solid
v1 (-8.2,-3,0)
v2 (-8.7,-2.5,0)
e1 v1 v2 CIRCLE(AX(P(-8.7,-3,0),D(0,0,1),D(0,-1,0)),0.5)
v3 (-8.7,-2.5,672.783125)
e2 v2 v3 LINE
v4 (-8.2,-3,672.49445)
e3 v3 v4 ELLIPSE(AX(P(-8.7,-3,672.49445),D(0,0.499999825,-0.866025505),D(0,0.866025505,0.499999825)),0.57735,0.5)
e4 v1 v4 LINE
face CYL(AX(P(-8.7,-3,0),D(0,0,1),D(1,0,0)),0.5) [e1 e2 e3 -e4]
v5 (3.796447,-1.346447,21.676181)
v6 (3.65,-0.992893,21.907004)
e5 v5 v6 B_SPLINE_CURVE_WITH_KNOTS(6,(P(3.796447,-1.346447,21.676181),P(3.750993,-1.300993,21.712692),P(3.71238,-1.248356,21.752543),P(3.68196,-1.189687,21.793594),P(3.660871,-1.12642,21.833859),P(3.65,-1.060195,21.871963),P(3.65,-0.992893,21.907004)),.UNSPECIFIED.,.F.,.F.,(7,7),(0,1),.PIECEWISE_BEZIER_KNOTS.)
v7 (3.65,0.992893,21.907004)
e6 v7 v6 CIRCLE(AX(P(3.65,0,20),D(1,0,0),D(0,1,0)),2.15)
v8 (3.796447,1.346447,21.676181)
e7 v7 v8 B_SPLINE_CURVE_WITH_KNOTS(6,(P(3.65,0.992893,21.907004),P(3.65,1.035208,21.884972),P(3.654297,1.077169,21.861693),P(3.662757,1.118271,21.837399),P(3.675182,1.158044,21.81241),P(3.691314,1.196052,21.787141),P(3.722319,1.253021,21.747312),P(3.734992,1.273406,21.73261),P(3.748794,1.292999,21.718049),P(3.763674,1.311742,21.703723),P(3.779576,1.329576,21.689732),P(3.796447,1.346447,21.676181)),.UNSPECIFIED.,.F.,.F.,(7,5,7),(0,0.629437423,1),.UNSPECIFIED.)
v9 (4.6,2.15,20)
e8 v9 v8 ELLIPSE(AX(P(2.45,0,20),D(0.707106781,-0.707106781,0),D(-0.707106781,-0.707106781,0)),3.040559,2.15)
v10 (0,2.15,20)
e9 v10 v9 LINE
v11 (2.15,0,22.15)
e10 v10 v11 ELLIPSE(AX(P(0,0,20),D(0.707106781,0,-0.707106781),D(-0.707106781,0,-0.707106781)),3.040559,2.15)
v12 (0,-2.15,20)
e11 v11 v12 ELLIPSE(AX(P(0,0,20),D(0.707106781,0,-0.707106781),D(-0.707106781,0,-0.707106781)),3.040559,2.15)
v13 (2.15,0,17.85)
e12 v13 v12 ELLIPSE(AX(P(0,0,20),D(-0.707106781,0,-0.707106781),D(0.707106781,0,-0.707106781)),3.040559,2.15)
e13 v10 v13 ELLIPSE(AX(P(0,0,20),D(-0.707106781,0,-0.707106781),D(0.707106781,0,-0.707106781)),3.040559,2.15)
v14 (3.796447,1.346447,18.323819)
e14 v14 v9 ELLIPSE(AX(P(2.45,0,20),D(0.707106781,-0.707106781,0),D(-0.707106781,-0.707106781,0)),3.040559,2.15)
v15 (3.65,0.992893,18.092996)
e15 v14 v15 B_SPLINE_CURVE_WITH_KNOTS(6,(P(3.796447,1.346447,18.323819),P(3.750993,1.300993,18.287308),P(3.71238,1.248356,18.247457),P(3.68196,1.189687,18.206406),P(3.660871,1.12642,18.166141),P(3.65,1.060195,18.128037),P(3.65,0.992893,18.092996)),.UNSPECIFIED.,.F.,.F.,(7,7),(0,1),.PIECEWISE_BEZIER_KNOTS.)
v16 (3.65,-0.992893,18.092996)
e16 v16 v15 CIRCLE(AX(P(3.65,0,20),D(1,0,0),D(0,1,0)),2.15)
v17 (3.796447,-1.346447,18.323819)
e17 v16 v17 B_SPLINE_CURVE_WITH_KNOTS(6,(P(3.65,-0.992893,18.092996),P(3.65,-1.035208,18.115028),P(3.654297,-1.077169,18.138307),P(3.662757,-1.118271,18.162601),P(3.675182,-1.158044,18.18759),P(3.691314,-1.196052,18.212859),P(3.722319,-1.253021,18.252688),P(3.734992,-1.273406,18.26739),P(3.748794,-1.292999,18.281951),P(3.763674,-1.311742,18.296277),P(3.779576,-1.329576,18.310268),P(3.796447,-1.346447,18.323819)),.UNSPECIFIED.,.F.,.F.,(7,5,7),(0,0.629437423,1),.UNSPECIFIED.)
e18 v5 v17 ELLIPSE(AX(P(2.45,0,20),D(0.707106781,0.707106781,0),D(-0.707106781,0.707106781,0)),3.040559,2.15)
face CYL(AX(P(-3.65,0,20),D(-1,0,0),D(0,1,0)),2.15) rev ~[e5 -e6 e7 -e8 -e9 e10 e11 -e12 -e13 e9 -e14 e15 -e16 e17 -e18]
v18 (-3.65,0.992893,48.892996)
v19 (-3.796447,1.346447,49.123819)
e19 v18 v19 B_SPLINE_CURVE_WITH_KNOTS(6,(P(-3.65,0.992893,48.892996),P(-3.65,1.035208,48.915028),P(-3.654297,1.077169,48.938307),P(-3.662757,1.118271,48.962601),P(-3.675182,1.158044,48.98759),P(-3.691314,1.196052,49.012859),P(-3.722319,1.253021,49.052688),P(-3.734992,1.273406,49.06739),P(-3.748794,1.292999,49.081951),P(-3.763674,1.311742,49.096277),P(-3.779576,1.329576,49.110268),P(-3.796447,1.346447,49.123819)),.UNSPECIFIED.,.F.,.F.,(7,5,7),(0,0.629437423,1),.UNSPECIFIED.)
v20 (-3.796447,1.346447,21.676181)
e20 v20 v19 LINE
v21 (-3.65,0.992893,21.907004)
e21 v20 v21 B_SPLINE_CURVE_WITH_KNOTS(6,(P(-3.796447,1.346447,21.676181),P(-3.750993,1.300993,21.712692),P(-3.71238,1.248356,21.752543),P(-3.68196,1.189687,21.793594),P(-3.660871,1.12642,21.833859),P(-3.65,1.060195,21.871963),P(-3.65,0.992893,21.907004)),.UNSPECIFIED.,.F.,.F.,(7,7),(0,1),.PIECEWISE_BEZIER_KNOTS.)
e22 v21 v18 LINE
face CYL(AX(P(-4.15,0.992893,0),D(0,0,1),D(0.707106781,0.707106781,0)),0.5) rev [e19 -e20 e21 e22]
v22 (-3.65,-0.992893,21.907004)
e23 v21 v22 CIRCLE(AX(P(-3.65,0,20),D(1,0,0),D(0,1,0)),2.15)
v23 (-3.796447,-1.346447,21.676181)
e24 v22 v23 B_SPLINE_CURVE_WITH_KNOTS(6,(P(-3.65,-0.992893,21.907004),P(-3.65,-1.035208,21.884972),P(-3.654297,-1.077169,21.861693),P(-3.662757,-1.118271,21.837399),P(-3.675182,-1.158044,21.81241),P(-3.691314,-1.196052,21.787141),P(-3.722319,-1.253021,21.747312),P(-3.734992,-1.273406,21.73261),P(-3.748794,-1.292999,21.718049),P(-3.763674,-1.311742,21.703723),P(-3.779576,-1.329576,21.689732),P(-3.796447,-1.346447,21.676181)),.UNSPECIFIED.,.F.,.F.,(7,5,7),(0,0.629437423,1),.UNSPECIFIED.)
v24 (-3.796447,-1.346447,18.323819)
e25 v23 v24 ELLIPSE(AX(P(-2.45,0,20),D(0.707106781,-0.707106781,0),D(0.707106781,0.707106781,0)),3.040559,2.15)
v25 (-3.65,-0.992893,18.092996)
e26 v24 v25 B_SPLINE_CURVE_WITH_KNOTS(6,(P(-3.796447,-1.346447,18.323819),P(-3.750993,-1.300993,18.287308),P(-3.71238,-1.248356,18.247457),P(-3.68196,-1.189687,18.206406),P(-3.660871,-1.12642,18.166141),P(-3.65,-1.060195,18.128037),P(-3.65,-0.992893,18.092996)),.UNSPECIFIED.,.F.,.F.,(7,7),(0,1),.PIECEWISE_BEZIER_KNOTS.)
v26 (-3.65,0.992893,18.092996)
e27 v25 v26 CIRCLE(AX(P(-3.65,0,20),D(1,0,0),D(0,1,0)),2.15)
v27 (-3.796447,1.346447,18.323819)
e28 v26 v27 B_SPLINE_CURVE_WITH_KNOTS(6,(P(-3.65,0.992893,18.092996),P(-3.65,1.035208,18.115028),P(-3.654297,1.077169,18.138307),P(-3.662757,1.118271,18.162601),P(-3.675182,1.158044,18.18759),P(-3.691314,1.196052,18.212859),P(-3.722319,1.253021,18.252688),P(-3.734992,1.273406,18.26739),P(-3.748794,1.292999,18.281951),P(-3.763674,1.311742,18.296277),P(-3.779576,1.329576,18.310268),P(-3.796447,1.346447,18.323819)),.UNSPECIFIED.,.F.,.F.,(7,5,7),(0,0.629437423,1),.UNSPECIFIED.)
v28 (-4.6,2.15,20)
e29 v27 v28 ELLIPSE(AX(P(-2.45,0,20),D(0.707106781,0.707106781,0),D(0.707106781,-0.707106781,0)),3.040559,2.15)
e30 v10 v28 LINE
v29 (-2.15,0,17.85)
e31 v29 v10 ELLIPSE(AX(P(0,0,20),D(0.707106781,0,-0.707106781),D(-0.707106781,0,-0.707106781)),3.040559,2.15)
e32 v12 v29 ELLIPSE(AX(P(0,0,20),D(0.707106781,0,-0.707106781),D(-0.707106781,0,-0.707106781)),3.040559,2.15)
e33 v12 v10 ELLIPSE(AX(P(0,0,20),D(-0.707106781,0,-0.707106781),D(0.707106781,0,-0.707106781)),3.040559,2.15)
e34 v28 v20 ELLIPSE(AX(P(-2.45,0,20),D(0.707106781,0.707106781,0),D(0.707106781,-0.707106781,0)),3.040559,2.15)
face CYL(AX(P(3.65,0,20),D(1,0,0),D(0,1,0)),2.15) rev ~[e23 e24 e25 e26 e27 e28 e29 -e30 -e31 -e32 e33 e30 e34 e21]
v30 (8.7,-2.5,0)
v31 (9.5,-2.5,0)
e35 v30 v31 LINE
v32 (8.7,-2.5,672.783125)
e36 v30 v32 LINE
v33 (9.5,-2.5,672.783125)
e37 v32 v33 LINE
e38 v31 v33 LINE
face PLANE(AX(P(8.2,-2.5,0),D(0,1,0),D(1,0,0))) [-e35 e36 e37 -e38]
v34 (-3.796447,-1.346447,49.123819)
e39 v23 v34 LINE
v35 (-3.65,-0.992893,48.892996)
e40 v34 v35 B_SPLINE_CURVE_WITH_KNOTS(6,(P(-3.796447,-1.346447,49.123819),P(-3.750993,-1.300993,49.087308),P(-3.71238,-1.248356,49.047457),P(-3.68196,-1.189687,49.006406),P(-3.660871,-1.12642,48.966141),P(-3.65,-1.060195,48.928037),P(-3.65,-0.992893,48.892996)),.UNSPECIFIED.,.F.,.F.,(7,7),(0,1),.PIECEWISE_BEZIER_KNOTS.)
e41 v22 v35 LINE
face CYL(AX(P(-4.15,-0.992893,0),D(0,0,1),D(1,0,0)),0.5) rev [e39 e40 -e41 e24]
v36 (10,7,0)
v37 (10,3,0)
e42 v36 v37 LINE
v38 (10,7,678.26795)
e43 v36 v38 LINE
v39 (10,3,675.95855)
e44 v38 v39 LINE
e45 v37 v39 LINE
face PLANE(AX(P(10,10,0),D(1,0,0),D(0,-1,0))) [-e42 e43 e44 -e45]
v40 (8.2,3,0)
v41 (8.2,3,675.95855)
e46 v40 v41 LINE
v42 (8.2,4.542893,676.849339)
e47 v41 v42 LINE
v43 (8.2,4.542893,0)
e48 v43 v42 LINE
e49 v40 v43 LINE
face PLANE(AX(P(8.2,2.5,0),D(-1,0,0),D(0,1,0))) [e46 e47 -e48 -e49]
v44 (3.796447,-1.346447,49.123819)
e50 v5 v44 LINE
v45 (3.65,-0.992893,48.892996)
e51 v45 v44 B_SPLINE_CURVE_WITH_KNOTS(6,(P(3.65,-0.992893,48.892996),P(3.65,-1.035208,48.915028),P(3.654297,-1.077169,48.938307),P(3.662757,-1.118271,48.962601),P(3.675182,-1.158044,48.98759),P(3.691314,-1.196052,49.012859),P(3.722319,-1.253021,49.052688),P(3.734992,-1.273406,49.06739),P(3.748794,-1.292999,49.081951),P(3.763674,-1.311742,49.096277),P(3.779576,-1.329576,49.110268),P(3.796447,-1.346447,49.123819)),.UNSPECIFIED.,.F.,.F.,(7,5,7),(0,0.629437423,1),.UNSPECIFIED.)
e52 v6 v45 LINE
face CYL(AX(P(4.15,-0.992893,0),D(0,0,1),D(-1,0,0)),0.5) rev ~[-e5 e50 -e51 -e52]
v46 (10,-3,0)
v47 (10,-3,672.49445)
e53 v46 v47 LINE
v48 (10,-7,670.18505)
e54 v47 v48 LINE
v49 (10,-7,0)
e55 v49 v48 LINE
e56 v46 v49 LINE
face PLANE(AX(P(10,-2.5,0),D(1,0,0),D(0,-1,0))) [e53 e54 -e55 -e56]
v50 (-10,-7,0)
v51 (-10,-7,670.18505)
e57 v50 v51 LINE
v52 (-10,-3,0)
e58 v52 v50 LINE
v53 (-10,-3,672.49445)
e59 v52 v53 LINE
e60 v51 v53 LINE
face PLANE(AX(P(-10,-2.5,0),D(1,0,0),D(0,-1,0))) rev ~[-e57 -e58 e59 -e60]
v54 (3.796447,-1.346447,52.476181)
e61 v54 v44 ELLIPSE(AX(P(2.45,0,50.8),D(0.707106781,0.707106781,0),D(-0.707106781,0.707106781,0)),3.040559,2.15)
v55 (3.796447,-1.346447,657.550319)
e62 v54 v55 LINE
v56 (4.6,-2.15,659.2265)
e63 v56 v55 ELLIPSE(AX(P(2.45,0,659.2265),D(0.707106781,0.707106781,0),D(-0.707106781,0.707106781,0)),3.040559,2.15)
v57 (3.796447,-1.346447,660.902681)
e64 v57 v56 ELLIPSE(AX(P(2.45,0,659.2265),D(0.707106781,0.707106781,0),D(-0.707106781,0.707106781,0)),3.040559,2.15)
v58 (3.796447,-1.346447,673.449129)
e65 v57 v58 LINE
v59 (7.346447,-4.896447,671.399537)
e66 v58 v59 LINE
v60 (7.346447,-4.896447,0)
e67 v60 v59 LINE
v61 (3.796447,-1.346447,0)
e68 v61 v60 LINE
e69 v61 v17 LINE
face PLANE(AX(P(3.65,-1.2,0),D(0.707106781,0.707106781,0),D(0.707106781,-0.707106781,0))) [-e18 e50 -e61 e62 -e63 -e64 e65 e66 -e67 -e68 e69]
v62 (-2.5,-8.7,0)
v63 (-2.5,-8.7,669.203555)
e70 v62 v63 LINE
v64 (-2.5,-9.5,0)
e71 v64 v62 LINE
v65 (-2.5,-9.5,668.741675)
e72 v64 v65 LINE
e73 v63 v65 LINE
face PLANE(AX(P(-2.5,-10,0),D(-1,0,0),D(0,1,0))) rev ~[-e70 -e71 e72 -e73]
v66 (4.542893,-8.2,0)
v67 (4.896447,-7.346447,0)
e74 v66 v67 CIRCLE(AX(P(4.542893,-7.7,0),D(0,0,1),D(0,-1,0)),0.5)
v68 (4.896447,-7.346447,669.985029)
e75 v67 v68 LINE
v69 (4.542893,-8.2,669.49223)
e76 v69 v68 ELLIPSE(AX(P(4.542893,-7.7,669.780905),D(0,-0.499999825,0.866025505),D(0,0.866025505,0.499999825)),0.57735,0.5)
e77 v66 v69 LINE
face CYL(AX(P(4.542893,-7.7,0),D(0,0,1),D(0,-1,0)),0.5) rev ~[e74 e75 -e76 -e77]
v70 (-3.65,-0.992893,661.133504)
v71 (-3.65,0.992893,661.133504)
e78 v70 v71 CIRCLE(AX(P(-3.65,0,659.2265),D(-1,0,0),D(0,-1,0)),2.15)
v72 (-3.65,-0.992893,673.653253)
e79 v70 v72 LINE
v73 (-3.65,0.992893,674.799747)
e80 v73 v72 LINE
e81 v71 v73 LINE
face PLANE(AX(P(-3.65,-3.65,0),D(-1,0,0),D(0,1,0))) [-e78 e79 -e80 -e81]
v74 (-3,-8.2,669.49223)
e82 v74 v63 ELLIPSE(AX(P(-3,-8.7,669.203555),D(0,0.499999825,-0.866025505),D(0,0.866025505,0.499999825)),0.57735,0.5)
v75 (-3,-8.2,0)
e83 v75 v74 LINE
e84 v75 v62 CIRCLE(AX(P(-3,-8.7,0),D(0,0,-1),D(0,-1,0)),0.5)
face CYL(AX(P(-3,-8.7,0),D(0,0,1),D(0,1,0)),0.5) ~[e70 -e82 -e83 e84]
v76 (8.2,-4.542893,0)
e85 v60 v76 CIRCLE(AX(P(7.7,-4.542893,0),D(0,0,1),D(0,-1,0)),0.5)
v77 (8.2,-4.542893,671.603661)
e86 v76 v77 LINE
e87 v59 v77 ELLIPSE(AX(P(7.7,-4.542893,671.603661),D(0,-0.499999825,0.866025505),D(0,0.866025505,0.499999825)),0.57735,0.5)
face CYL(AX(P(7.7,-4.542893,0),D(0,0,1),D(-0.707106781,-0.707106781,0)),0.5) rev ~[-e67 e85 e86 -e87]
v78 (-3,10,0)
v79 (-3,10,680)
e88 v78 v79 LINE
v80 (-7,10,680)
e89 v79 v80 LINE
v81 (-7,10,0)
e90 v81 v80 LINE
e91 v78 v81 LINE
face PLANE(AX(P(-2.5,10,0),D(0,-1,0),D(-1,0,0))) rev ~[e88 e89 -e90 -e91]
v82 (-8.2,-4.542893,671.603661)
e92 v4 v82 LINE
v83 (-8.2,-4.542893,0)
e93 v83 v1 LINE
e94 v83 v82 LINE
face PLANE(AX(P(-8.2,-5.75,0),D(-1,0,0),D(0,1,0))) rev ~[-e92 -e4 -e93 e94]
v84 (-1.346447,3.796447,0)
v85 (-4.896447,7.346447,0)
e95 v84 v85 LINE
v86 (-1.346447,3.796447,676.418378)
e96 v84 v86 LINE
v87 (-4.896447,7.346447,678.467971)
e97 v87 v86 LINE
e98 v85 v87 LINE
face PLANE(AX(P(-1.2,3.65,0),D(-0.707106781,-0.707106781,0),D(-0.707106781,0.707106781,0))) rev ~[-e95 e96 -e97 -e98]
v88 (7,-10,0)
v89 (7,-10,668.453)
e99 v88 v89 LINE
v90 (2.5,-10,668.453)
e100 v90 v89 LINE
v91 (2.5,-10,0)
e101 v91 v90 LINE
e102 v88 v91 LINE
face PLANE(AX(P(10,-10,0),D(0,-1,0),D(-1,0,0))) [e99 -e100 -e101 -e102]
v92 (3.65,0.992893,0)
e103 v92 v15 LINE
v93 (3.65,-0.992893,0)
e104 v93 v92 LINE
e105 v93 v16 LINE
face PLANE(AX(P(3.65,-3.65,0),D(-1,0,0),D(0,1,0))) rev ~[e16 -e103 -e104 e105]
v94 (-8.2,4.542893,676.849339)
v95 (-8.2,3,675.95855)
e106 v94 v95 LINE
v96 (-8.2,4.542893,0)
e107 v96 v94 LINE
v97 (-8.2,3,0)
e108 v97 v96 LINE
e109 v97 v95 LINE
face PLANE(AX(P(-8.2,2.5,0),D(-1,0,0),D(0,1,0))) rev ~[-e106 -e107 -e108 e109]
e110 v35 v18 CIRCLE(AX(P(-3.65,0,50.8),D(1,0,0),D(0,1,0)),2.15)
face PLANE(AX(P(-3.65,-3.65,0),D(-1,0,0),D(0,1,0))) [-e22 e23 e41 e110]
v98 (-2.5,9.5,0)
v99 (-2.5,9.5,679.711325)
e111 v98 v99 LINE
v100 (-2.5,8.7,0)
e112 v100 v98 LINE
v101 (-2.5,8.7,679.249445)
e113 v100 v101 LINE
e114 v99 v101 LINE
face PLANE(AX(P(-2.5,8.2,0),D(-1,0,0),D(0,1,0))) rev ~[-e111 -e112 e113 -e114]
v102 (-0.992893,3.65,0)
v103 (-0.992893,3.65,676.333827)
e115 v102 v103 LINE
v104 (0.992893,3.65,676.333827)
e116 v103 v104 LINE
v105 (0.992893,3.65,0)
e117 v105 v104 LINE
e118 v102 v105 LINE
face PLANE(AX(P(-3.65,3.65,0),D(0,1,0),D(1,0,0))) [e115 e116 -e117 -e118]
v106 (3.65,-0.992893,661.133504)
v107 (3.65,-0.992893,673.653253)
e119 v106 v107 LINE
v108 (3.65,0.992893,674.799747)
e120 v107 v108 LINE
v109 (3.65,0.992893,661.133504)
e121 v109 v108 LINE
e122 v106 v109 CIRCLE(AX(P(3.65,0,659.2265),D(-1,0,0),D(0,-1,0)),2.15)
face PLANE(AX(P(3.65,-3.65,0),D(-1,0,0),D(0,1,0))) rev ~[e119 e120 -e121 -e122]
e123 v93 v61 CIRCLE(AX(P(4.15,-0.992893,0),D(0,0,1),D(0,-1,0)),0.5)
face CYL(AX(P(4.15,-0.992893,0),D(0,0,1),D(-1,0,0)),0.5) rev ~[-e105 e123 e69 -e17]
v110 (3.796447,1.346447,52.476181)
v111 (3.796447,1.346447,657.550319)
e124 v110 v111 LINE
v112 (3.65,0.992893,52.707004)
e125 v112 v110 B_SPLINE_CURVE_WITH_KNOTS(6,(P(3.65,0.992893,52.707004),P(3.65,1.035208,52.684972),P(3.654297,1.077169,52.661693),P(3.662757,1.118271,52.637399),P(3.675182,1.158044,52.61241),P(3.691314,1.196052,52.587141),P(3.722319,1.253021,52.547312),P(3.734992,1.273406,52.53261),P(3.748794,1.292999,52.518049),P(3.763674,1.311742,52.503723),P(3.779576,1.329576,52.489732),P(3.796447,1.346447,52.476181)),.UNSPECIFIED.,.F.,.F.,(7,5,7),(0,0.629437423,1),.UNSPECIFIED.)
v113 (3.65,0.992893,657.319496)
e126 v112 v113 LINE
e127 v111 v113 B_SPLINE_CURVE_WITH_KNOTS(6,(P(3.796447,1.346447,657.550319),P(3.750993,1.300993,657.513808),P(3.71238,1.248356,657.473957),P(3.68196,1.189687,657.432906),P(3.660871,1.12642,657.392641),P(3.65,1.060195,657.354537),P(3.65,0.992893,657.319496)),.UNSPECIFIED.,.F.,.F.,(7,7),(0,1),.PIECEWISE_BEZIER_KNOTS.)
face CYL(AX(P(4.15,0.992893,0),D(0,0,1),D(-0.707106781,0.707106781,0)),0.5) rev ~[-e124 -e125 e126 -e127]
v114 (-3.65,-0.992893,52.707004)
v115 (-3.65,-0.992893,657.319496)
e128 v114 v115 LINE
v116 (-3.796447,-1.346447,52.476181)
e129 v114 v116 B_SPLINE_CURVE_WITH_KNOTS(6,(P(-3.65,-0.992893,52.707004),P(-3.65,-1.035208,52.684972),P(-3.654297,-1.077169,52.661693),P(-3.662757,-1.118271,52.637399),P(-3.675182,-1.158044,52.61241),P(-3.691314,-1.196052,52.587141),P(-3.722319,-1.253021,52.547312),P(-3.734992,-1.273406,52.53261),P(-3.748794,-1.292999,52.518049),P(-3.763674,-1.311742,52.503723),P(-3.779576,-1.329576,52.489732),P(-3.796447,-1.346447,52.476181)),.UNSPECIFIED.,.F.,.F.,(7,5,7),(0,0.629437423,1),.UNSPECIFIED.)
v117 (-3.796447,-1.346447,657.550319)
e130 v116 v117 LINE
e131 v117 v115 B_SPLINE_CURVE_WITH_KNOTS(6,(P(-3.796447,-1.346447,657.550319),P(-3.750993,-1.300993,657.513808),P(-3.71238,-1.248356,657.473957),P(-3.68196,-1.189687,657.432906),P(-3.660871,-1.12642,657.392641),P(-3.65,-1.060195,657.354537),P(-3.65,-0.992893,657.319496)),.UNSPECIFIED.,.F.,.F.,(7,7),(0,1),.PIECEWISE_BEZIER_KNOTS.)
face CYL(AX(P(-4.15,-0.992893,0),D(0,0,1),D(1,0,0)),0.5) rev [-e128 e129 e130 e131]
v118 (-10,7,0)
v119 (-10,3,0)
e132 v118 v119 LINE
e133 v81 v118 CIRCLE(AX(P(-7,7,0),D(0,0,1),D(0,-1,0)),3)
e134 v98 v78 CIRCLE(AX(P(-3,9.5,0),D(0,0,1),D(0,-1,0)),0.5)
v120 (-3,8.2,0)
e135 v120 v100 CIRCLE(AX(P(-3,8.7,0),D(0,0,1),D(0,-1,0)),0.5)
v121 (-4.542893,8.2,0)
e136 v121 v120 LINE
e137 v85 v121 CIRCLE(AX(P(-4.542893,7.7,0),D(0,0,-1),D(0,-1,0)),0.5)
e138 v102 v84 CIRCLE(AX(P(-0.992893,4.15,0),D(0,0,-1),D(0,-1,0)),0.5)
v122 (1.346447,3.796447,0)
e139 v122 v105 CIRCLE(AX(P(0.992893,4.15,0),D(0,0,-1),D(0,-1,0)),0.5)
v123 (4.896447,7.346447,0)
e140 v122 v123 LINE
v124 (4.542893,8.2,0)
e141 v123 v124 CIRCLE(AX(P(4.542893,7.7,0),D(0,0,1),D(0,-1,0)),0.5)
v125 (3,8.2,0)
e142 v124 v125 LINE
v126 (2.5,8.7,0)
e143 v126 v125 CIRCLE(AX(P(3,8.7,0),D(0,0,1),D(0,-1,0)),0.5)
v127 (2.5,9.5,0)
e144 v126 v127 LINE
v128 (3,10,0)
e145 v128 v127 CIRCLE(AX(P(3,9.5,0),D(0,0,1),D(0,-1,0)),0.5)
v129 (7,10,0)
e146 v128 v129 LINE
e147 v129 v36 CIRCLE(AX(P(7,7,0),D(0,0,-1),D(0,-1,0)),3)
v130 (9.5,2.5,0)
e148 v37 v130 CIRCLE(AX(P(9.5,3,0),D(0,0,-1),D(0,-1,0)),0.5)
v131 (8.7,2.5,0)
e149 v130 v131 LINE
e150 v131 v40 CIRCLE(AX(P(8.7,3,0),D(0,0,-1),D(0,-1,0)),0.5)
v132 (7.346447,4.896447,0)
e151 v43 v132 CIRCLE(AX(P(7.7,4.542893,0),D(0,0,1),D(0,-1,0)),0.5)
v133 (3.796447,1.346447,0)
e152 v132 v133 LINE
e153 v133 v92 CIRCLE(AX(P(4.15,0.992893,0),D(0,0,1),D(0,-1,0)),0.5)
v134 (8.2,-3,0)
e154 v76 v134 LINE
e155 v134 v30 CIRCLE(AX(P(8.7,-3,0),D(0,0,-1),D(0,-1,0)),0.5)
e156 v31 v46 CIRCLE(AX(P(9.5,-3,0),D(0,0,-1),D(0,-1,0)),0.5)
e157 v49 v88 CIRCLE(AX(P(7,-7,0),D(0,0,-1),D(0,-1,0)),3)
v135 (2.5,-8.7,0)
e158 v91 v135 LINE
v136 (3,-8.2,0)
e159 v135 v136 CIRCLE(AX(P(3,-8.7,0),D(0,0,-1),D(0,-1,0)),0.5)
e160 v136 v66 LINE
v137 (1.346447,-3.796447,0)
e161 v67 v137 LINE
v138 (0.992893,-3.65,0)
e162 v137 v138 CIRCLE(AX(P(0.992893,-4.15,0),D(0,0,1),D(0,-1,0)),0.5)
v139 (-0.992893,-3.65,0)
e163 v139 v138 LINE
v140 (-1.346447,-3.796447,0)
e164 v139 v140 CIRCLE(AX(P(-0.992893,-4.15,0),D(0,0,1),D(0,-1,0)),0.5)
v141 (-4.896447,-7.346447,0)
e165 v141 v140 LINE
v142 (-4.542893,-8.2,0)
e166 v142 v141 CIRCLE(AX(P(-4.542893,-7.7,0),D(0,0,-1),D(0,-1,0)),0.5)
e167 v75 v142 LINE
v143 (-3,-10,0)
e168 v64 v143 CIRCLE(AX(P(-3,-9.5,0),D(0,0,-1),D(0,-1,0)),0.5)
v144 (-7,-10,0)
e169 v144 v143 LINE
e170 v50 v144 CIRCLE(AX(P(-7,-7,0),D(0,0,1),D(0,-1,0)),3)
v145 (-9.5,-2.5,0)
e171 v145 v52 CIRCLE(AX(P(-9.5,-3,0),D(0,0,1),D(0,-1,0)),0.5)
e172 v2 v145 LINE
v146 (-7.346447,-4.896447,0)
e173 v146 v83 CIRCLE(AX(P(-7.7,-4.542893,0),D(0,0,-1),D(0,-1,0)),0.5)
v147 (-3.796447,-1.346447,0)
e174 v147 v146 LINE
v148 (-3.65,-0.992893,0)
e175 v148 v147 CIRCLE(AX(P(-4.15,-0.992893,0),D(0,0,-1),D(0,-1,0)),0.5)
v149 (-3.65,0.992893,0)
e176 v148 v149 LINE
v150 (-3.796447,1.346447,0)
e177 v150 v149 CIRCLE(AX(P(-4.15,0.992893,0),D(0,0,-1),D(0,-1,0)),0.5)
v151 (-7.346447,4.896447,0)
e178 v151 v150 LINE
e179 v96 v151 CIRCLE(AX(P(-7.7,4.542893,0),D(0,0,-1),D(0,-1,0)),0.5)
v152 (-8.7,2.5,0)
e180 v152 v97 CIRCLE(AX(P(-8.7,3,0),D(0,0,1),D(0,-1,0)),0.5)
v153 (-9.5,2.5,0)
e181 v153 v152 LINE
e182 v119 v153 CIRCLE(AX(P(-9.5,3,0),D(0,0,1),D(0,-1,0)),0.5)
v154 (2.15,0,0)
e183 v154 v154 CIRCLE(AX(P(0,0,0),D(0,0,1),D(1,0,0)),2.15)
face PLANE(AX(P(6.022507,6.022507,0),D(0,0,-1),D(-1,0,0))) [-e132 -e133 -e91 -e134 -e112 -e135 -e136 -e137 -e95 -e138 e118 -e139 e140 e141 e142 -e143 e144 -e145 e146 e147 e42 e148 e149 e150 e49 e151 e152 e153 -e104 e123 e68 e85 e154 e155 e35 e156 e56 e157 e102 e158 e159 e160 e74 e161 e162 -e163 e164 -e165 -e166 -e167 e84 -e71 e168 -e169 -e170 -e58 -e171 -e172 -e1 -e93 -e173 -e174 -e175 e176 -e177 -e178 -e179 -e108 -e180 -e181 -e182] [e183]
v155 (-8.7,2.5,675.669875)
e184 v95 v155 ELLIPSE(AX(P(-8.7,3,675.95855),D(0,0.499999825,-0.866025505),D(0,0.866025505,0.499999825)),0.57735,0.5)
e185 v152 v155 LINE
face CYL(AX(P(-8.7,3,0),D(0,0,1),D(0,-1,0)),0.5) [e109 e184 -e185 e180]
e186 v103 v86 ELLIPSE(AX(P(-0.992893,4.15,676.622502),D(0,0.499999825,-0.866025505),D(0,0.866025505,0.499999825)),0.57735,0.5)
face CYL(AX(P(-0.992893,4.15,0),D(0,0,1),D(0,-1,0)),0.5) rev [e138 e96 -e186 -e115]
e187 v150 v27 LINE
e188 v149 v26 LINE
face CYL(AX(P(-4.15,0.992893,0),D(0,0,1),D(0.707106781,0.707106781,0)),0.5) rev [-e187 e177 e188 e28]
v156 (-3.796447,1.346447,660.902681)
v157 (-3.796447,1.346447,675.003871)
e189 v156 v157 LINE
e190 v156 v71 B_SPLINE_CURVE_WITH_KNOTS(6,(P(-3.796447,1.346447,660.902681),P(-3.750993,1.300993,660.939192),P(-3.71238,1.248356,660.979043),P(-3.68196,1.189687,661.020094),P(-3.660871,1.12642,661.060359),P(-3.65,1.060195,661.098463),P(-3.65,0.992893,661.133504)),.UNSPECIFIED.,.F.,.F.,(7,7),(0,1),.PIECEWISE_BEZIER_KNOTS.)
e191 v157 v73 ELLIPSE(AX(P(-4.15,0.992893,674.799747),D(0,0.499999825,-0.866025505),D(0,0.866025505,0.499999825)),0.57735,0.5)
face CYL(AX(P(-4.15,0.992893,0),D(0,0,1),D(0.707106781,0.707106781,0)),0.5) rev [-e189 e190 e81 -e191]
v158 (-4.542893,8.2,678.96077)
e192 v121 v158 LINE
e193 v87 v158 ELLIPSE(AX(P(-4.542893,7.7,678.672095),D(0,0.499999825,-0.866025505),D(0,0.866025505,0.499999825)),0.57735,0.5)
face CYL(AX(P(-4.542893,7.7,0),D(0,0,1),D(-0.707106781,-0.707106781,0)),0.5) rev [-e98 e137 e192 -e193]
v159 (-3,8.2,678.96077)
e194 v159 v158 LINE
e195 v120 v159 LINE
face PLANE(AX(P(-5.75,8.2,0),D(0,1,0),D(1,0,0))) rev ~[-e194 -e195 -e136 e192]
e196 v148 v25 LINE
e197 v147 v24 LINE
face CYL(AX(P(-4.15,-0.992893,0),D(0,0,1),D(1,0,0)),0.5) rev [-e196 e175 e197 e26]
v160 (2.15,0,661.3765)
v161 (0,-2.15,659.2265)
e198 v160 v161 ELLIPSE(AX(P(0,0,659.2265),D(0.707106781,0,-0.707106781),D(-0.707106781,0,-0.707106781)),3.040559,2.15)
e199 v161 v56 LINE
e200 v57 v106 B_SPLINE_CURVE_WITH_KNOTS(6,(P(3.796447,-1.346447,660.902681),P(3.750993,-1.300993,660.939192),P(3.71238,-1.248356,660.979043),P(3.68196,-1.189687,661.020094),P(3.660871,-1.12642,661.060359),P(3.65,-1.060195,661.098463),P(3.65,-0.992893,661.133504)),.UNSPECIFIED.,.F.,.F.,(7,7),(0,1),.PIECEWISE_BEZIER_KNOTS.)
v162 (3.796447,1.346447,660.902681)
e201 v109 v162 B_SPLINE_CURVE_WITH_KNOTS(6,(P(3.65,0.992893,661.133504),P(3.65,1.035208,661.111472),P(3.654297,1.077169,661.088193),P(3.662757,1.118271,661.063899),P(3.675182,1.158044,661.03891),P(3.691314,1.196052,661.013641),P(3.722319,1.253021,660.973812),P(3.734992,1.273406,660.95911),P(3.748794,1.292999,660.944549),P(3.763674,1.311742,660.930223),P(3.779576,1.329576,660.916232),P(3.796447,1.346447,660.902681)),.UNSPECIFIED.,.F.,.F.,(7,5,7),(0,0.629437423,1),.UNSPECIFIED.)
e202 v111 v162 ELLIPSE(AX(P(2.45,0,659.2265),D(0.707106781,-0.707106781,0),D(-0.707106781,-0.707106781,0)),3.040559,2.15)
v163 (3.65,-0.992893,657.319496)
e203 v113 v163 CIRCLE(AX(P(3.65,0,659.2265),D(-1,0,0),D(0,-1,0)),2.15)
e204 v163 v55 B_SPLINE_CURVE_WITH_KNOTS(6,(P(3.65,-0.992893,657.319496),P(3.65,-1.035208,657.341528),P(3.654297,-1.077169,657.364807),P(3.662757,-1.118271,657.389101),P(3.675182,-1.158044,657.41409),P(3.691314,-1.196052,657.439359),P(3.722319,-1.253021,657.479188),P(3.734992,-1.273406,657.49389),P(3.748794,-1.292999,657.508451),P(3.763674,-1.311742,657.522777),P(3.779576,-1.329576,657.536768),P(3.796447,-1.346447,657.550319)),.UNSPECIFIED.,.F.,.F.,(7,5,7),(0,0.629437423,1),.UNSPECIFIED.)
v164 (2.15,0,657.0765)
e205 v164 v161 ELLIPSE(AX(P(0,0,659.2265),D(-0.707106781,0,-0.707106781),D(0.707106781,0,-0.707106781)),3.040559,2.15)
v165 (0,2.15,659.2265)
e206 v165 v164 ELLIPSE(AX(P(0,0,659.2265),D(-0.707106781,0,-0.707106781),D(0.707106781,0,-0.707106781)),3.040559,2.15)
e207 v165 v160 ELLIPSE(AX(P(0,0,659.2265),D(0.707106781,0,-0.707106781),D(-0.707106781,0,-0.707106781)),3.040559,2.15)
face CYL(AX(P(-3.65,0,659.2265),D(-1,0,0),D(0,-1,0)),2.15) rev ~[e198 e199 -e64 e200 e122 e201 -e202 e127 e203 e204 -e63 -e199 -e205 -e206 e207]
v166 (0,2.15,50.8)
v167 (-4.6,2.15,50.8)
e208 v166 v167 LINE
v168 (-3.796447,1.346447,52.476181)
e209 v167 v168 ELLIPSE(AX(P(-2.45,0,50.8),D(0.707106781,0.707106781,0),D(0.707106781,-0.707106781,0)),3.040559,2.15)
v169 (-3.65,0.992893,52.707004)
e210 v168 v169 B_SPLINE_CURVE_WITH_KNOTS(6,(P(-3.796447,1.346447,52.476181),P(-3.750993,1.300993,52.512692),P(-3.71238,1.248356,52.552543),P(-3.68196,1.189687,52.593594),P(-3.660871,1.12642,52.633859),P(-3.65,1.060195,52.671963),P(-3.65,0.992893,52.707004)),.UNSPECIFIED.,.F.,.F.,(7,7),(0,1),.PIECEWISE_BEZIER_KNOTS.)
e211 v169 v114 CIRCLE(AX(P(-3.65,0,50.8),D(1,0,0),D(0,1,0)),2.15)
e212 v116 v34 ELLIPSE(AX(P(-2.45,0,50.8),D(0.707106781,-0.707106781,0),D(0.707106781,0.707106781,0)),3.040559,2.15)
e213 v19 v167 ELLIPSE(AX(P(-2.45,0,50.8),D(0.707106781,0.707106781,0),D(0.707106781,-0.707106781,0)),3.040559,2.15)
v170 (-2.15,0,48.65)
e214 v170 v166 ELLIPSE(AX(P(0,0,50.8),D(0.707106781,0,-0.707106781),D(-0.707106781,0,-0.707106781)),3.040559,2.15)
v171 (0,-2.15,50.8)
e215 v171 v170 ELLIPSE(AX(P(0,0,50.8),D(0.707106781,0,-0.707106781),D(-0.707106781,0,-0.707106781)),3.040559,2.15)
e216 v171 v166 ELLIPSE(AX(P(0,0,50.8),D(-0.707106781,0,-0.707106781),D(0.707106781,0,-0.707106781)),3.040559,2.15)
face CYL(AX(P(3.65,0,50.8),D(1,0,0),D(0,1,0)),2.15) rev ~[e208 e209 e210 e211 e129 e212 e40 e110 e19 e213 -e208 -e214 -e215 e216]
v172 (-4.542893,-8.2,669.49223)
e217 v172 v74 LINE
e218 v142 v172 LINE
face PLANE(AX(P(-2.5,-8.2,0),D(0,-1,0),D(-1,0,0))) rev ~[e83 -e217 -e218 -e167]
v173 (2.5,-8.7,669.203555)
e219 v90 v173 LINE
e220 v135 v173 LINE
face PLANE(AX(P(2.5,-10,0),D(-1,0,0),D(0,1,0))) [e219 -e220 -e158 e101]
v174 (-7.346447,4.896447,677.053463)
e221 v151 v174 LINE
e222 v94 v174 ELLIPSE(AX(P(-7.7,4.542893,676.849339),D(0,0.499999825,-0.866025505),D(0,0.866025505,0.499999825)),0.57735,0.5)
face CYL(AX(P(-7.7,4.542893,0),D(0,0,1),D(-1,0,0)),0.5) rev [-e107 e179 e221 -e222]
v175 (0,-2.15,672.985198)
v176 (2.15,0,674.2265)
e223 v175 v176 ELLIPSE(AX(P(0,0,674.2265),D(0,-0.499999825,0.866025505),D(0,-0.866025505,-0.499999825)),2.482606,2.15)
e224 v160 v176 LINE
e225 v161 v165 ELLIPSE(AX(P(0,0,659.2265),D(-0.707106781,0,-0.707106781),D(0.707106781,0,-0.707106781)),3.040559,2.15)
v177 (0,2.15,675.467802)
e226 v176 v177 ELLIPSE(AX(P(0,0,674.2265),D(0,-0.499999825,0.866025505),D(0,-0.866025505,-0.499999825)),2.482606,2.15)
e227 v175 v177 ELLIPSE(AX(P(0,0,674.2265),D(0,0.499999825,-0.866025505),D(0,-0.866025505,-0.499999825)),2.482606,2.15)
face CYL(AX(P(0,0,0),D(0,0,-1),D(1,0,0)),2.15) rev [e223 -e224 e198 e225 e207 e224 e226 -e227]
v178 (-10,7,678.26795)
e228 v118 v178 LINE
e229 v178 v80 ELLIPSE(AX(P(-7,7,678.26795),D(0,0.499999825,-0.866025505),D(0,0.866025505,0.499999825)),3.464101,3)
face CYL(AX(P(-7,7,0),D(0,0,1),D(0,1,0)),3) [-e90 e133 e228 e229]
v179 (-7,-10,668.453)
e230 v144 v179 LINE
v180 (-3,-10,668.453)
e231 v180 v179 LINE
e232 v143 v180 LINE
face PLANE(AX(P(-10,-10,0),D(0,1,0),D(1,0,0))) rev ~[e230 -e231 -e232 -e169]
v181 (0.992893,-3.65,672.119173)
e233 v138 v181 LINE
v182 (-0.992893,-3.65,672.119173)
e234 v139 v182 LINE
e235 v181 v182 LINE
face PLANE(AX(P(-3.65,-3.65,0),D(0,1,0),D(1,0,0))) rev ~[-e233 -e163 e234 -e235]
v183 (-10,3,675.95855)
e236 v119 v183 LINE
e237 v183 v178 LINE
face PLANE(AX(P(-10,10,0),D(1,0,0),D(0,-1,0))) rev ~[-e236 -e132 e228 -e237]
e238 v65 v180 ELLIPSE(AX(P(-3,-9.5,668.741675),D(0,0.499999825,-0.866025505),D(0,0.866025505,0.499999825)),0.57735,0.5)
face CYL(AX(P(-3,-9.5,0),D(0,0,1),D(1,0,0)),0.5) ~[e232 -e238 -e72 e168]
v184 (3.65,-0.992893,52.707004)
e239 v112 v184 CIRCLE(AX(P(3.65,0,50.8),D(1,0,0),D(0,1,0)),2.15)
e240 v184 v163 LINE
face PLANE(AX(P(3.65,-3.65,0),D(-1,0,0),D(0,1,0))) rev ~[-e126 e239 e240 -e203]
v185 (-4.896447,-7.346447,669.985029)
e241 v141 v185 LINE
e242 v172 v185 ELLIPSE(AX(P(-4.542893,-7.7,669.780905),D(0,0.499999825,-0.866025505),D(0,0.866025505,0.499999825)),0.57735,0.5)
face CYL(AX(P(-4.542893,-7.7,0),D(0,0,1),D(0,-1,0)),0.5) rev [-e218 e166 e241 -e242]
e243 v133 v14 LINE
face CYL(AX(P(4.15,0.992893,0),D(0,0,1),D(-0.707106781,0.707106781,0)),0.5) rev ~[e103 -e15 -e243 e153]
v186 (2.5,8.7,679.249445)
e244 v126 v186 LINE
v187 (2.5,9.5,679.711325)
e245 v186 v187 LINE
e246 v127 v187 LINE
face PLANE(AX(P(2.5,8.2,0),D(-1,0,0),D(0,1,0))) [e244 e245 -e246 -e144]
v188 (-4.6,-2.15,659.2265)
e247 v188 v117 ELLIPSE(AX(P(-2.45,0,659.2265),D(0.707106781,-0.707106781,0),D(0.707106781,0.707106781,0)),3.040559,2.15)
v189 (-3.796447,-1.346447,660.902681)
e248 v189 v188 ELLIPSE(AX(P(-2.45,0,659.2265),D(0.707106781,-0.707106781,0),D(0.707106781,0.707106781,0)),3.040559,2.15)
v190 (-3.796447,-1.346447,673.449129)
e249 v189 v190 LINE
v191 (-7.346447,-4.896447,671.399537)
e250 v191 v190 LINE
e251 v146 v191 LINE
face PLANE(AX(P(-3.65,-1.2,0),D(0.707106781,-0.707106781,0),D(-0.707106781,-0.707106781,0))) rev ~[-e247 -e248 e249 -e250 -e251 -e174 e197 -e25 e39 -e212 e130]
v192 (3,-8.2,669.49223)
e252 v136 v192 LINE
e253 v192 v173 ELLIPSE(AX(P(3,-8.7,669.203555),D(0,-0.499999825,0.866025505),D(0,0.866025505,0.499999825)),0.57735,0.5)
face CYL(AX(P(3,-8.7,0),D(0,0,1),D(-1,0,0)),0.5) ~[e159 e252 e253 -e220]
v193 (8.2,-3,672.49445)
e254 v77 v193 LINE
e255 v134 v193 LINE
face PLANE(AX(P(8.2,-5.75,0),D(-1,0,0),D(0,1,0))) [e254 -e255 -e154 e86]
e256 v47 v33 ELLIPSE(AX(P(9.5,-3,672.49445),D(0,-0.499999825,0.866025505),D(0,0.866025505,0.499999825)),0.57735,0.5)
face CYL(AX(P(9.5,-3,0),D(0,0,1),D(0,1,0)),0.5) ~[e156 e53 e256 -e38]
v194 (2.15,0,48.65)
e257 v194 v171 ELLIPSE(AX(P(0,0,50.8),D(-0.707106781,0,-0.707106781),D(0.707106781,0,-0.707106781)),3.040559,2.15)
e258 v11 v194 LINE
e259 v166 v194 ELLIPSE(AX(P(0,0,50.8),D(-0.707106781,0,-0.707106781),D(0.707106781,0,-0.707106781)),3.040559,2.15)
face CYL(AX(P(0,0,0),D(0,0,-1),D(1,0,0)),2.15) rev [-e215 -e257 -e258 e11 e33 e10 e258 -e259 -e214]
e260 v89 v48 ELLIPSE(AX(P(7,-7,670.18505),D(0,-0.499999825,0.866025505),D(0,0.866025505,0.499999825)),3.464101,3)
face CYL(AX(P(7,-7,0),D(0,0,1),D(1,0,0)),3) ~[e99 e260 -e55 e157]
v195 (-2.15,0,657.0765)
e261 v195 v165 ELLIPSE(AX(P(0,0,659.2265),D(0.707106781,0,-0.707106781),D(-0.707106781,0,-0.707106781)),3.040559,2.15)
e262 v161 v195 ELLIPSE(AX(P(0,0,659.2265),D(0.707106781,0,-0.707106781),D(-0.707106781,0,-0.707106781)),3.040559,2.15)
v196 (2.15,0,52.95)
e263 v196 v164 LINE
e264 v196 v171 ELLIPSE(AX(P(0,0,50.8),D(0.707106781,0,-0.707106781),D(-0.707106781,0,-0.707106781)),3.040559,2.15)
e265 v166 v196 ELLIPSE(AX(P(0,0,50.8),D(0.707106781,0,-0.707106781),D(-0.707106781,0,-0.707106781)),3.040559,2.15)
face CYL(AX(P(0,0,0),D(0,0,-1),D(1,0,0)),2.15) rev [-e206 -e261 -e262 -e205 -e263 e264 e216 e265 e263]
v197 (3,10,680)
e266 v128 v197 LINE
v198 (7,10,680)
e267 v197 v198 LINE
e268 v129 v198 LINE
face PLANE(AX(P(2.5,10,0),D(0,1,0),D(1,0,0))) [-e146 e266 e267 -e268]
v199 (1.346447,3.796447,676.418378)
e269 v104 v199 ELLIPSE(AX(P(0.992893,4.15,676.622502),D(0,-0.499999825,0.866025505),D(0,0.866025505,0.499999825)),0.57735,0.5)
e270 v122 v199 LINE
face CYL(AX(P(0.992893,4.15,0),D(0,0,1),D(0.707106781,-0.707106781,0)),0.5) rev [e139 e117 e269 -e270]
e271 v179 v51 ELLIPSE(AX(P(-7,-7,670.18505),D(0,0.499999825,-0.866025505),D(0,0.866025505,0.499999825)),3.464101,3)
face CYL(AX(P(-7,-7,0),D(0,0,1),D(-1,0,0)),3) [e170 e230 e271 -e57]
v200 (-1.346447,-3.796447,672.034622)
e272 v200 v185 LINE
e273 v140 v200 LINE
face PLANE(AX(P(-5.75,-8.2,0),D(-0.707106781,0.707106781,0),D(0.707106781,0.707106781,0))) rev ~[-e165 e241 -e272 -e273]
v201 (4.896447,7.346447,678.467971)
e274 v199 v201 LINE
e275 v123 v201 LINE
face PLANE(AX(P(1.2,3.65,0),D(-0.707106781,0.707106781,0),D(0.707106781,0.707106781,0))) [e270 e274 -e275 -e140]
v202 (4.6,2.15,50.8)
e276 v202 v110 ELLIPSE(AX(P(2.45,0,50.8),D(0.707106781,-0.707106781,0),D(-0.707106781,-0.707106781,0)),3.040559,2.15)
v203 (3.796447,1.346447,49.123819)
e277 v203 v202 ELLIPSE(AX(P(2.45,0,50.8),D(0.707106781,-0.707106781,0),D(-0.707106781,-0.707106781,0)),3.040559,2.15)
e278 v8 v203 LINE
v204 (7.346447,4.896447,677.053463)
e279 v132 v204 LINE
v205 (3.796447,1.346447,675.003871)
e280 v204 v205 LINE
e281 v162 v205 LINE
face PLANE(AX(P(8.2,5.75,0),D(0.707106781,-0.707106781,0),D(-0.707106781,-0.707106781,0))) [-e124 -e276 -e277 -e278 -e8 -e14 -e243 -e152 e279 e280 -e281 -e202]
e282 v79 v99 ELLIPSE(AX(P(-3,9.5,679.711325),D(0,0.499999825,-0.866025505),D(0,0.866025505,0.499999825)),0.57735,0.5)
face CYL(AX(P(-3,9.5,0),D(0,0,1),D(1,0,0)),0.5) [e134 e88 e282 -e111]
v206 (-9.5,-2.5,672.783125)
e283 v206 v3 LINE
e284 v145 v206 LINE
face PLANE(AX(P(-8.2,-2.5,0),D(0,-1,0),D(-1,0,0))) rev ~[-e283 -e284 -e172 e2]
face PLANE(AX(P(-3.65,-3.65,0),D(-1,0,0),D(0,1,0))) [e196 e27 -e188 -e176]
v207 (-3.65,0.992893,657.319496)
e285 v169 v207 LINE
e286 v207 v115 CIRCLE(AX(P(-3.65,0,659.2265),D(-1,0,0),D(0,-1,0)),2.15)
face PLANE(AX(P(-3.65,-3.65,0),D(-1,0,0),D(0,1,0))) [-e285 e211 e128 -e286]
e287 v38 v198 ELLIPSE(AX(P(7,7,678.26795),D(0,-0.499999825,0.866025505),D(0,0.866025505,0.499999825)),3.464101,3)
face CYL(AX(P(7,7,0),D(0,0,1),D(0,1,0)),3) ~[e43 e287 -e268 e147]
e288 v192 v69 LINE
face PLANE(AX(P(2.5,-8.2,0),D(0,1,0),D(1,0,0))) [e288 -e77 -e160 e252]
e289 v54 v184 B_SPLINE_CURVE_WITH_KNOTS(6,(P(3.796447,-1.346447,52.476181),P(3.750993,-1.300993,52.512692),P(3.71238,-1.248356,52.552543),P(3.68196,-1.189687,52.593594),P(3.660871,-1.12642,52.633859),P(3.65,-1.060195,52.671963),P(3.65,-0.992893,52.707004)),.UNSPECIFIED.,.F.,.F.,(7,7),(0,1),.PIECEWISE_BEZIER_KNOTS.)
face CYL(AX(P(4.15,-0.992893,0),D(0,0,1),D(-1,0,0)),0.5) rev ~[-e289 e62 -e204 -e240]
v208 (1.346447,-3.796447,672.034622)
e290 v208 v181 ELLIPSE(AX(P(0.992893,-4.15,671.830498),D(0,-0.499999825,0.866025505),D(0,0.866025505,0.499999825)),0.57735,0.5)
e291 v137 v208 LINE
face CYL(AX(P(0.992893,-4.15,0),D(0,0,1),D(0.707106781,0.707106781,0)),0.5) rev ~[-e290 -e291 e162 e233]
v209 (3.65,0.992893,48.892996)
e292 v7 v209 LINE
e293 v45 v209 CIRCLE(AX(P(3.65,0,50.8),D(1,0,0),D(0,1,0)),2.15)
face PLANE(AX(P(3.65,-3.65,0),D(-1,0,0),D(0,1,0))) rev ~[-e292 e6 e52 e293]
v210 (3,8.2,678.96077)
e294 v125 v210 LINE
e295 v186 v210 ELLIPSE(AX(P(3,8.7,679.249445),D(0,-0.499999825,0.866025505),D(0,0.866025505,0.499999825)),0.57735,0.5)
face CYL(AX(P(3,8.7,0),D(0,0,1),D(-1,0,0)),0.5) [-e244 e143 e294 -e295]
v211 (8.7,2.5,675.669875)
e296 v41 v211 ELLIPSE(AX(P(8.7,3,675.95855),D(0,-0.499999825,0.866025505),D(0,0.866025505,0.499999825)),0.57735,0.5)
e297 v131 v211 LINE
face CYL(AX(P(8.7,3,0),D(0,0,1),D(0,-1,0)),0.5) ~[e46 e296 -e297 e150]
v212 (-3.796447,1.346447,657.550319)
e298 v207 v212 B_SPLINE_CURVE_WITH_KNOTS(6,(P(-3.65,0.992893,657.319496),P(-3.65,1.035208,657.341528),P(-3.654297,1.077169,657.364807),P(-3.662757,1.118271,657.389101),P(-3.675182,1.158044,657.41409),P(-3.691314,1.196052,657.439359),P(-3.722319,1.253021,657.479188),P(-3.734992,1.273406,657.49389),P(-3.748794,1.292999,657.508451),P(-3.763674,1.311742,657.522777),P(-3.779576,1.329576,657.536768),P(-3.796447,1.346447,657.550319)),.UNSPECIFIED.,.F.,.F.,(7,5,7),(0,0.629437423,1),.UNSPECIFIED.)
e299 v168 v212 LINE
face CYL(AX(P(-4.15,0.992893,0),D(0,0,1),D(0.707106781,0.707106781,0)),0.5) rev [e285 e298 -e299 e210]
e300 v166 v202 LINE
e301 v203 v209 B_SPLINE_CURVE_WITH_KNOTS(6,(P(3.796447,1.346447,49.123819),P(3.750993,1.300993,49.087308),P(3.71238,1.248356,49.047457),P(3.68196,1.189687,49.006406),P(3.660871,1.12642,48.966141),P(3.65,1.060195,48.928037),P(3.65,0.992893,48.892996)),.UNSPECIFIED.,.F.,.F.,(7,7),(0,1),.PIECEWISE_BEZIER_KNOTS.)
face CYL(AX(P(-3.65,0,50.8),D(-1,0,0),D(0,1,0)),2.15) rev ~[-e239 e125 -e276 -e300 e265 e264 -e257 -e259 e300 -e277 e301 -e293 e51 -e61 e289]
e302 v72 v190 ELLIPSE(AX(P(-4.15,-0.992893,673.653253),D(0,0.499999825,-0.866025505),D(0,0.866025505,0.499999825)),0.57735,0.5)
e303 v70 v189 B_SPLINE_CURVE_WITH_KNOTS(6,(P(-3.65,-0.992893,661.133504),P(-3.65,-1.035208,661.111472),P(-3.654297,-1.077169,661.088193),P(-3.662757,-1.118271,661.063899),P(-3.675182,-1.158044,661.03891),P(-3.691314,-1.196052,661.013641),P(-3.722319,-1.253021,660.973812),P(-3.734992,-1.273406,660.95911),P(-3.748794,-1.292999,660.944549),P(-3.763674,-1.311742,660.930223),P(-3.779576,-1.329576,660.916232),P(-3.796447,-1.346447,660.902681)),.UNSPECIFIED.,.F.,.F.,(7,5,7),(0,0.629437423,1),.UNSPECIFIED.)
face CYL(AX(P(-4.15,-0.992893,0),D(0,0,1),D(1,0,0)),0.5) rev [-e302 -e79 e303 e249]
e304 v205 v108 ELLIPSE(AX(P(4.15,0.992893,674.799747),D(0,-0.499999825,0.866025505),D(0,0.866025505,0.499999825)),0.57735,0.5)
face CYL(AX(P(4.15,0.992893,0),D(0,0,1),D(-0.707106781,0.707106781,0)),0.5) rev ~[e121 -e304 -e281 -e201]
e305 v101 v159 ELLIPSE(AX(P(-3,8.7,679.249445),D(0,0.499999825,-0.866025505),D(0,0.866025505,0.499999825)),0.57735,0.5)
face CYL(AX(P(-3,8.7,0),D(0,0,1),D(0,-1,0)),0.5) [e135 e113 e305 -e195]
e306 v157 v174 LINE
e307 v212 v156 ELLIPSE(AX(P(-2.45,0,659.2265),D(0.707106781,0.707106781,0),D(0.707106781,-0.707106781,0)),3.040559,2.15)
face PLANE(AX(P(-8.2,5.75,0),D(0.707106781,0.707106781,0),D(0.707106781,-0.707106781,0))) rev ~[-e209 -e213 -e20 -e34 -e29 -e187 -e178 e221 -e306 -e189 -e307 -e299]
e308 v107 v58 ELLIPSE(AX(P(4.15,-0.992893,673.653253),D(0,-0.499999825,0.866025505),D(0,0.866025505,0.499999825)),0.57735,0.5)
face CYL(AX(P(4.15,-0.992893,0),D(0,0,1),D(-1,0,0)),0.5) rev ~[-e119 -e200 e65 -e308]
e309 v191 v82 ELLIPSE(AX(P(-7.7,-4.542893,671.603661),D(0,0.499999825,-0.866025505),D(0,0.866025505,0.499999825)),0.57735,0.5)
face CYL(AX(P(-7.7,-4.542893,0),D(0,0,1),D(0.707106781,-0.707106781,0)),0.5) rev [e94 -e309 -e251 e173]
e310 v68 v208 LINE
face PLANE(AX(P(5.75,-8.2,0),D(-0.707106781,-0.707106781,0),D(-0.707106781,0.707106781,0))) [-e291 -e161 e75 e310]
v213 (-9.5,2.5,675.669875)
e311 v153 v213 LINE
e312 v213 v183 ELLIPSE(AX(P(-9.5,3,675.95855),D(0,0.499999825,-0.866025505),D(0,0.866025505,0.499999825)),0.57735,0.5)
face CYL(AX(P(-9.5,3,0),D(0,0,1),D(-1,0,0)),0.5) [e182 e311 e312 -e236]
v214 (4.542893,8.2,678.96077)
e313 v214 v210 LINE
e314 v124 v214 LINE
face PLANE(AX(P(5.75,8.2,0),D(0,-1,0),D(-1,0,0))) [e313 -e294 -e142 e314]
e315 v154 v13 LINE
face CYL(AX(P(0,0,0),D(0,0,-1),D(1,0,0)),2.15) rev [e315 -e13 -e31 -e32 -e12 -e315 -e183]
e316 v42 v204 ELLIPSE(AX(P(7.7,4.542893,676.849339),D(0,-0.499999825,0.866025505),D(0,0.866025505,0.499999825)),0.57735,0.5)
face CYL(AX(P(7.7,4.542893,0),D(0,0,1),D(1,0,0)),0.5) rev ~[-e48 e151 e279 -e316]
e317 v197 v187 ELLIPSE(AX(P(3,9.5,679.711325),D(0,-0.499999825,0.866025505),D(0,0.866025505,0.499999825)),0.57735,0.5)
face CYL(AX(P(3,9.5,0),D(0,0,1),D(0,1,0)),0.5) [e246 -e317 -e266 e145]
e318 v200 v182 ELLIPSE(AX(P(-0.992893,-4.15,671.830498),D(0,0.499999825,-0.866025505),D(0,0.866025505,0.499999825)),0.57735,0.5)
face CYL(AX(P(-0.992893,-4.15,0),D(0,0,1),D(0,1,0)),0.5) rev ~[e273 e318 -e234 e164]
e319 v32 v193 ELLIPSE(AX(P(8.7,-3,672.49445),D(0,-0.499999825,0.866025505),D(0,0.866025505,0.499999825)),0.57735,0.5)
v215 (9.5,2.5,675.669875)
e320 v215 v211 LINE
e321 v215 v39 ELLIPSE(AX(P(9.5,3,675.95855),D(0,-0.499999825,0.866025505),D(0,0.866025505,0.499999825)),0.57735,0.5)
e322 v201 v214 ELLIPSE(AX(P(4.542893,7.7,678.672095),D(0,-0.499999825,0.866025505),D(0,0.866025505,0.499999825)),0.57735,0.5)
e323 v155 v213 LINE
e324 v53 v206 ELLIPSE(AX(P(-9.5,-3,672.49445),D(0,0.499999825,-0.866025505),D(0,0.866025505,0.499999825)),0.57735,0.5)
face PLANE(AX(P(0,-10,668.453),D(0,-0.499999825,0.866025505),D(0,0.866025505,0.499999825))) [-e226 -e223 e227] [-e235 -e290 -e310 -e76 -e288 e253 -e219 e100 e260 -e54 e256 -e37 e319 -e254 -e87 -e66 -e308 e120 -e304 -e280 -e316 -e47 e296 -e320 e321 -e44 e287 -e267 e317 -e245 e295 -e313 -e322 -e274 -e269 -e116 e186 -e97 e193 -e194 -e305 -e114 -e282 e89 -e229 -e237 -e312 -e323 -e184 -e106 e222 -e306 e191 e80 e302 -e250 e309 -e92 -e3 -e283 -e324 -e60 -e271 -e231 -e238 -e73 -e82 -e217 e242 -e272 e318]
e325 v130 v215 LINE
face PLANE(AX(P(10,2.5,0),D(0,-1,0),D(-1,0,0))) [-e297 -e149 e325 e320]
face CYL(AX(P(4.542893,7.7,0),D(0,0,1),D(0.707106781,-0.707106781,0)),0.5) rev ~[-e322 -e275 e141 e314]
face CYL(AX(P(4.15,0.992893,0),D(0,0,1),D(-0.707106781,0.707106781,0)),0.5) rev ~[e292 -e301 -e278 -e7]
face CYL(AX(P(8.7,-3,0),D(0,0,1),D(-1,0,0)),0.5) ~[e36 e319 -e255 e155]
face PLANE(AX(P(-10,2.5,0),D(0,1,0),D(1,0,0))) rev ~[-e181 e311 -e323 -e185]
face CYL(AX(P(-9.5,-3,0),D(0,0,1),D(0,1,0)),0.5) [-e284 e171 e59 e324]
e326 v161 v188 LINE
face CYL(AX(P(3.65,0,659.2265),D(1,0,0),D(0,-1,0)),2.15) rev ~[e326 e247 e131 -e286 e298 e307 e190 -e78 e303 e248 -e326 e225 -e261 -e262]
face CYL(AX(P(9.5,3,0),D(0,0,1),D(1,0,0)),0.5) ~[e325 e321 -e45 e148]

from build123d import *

# Parameters (mm, degrees)
SKETCH1_W           = 7.3
SKETCH1_H           = 7.3
SKETCH1_R           = 2.15
BOSS_EXTRUDE1_DEPTH = 680
BOSS_EXTRUDE2_DEPTH = 680
FILLET4_R           = 3
FILLET5_R           = 0.5
FILLET6_R           = 0.5
FILLET7_R           = 0.5
CUT_EXTRUDE1_DEPTH  = 681.147042925
CUT_EXTRUDE5_DEPTH  = 681.147042925
SKETCH5_R           = 2.15
CUT_EXTRUDE6_DEPTH  = 681.210498669
SKETCH6_R           = 2.15
CUT_EXTRUDE7_DEPTH  = 681.210498669
SKETCH9_R           = 2.15
CUT_EXTRUDE10_DEPTH = 681.210498669
SKETCH10_R          = 2.15
CUT_EXTRUDE11_DEPTH = 681.210498669
SKETCH13_R          = 2.15
CUT_EXTRUDE14_DEPTH = 681.210498669
SKETCH14_R          = 2.15
CUT_EXTRUDE15_DEPTH = 681.210498669


with BuildPart() as part:
    # Sketch1 → Boss-Extrude1 (new body)
    with BuildSketch(Plane.XY):
        Rectangle(SKETCH1_W, SKETCH1_H)
        Circle(SKETCH1_R, mode=Mode.SUBTRACT)
    extrude(amount=BOSS_EXTRUDE1_DEPTH)

    # Sketch2 → Boss-Extrude2 (add)
    with BuildSketch(Plane.XY):
        Polygon((3.65, 3.65), (1.2, 3.65), (5.750000001, 8.200000001), (2.500000001, 8.200000001), (2.500000001, 10.000000001), (10.000000001, 10.000000001), (10.000000001, 2.500000001), (8.200000001, 2.500000001), (8.200000001, 5.750000001), (3.65, 1.2), align=None)
        Polygon((-3.65, 3.65), (-1.2, 3.65), (-5.750000001, 8.200000001), (-2.500000001, 8.200000001), (-2.500000001, 10.000000001), (-10.000000001, 10.000000001), (-10.000000001, 2.500000001), (-8.200000001, 2.500000001), (-8.200000001, 5.750000001), (-3.65, 1.2), align=None)
        Polygon((-3.65, -3.65), (-3.65, -1.2), (-8.200000001, -5.750000001), (-8.200000001, -2.500000001), (-10.000000001, -2.500000001), (-10.000000001, -10.000000001), (-2.500000001, -10.000000001), (-2.500000001, -8.200000001), (-5.750000001, -8.200000001), (-1.2, -3.65), align=None)
        Polygon((3.65, -3.65), (3.65, -1.2), (8.200000001, -5.750000001), (8.200000001, -2.500000001), (10.000000001, -2.500000001), (10.000000001, -10.000000001), (2.500000001, -10.000000001), (2.500000001, -8.200000001), (5.750000001, -8.200000001), (1.2, -3.65), align=None)
    extrude(amount=BOSS_EXTRUDE2_DEPTH)

    # Fillet4
    fillet4_edges = [part.edges().sort_by_distance(p)[0] for p in [
        (10.000000001, 10.000000001, 340),
        (-10.000000001, 10.000000001, 340),
        (-10.000000001, -10.000000001, 340),
        (10.000000001, -10.000000001, 340),
    ]]
    fillet(fillet4_edges, radius=FILLET4_R)

    # Fillet5
    fillet5_edges = [part.edges().sort_by_distance(p)[0] for p in [
        (8.200000001, 2.500000001, 340),
        (10.000000001, 2.500000001, 340),
        (2.500000001, 10.000000001, 340),
        (2.500000001, 8.200000001, 340),
        (-2.500000001, 8.200000001, 340),
        (-2.500000001, 10.000000001, 340),
        (-10.000000001, 2.500000001, 340),
        (-8.200000001, 2.500000001, 340),
        (-8.200000001, -2.500000001, 340),
        (-10.000000001, -2.500000001, 340),
        (-2.500000001, -10.000000001, 340),
        (-2.500000001, -8.200000001, 340),
        (2.500000001, -8.200000001, 340),
        (10.000000001, -2.500000001, 340),
        (8.200000001, -2.500000001, 340),
    ]]
    fillet(fillet5_edges, radius=FILLET5_R)

    # Fillet6
    fillet6_edges = [part.edges().sort_by_distance(p)[0] for p in [
        (3.65, 1.2, 340),
        (1.2, 3.65, 340),
        (-3.65, 1.2, 340),
        (-1.2, 3.65, 340),
        (-1.2, -3.65, 340),
        (-3.65, -1.2, 340),
        (1.2, -3.65, 340),
        (3.65, -1.2, 340),
    ]]
    fillet(fillet6_edges, radius=FILLET6_R)

    # Fillet7
    fillet7_edges = [part.edges().sort_by_distance(p)[0] for p in [
        (8.200000001, 5.750000001, 340),
        (5.750000001, 8.200000001, 340),
        (-5.750000001, 8.200000001, 340),
        (-8.200000001, 5.750000001, 340),
        (-8.200000001, -5.750000001, 340),
        (-5.750000001, -8.200000001, 340),
        (5.750000001, -8.200000001, 340),
        (8.200000001, -5.750000001, 340),
    ]]
    fillet(fillet7_edges, radius=FILLET7_R)

    # Sketch3 → Cut-Extrude1 (cut, through all)
    with BuildSketch(Plane(origin=(0, 0, 0), x_dir=(0, 0, -1), z_dir=(1, 0, 0))):
        Polygon((-680, 10.000000001), (-680, -10.000000001), (-668.453, -10.000000001), align=None)
    extrude(amount=-CUT_EXTRUDE1_DEPTH, mode=Mode.SUBTRACT)

    # Sketch4 → Cut-Extrude5 (cut, through all)
    with BuildSketch(Plane(origin=(0, 0, 0), x_dir=(0, 0, -1), z_dir=(1, 0, 0))):
        Polygon((-680, 10.000000001), (-680, -10.000000001), (-668.453, -10.000000001), align=None)
    extrude(amount=CUT_EXTRUDE5_DEPTH, mode=Mode.SUBTRACT)

    # Sketch5 → Cut-Extrude6 (cut, through all)
    with BuildSketch(Plane.ZY.offset(3.65)):
        with Locations(Location((659.2265, 0, 0), (0, 0, 270))):
            Circle(SKETCH5_R)
    extrude(amount=-CUT_EXTRUDE6_DEPTH, mode=Mode.SUBTRACT)

    # Sketch6 → Cut-Extrude7 (cut, through all)
    with BuildSketch(Plane(origin=(3.65, 0, 0), x_dir=(0, 0, -1), z_dir=(1, 0, 0))):
        with Locations(Location((-659.2265, 0, 0), (0, 0, 270))):
            Circle(SKETCH6_R)
    extrude(amount=-CUT_EXTRUDE7_DEPTH, mode=Mode.SUBTRACT)

    # Sketch9 → Cut-Extrude10 (cut, through all)
    with BuildSketch(Plane(origin=(3.65, 0, 0), x_dir=(0, 0, -1), z_dir=(1, 0, 0))):
        with Locations(Location((-50.8, 0, 0), (0, 0, 90))):
            Circle(SKETCH9_R)
    extrude(amount=-CUT_EXTRUDE10_DEPTH, mode=Mode.SUBTRACT)

    # Sketch10 → Cut-Extrude11 (cut, through all)
    with BuildSketch(Plane.ZY.offset(3.65)):
        with Locations(Location((50.8, 0, 0), (0, 0, 90))):
            Circle(SKETCH10_R)
    extrude(amount=-CUT_EXTRUDE11_DEPTH, mode=Mode.SUBTRACT)

    # Sketch13 → Cut-Extrude14 (cut, through all)
    with BuildSketch(Plane(origin=(3.65, 0, 0), x_dir=(0, 0, -1), z_dir=(1, 0, 0))):
        with Locations(Location((-20, 0, 0), (0, 0, 90))):
            Circle(SKETCH13_R)
    extrude(amount=-CUT_EXTRUDE14_DEPTH, mode=Mode.SUBTRACT)

    # Sketch14 → Cut-Extrude15 (cut, through all)
    with BuildSketch(Plane.ZY.offset(3.65)):
        with Locations(Location((20, 0, 0), (0, 0, 90))):
            Circle(SKETCH14_R)
    extrude(amount=-CUT_EXTRUDE15_DEPTH, mode=Mode.SUBTRACT)


solid = part.part
